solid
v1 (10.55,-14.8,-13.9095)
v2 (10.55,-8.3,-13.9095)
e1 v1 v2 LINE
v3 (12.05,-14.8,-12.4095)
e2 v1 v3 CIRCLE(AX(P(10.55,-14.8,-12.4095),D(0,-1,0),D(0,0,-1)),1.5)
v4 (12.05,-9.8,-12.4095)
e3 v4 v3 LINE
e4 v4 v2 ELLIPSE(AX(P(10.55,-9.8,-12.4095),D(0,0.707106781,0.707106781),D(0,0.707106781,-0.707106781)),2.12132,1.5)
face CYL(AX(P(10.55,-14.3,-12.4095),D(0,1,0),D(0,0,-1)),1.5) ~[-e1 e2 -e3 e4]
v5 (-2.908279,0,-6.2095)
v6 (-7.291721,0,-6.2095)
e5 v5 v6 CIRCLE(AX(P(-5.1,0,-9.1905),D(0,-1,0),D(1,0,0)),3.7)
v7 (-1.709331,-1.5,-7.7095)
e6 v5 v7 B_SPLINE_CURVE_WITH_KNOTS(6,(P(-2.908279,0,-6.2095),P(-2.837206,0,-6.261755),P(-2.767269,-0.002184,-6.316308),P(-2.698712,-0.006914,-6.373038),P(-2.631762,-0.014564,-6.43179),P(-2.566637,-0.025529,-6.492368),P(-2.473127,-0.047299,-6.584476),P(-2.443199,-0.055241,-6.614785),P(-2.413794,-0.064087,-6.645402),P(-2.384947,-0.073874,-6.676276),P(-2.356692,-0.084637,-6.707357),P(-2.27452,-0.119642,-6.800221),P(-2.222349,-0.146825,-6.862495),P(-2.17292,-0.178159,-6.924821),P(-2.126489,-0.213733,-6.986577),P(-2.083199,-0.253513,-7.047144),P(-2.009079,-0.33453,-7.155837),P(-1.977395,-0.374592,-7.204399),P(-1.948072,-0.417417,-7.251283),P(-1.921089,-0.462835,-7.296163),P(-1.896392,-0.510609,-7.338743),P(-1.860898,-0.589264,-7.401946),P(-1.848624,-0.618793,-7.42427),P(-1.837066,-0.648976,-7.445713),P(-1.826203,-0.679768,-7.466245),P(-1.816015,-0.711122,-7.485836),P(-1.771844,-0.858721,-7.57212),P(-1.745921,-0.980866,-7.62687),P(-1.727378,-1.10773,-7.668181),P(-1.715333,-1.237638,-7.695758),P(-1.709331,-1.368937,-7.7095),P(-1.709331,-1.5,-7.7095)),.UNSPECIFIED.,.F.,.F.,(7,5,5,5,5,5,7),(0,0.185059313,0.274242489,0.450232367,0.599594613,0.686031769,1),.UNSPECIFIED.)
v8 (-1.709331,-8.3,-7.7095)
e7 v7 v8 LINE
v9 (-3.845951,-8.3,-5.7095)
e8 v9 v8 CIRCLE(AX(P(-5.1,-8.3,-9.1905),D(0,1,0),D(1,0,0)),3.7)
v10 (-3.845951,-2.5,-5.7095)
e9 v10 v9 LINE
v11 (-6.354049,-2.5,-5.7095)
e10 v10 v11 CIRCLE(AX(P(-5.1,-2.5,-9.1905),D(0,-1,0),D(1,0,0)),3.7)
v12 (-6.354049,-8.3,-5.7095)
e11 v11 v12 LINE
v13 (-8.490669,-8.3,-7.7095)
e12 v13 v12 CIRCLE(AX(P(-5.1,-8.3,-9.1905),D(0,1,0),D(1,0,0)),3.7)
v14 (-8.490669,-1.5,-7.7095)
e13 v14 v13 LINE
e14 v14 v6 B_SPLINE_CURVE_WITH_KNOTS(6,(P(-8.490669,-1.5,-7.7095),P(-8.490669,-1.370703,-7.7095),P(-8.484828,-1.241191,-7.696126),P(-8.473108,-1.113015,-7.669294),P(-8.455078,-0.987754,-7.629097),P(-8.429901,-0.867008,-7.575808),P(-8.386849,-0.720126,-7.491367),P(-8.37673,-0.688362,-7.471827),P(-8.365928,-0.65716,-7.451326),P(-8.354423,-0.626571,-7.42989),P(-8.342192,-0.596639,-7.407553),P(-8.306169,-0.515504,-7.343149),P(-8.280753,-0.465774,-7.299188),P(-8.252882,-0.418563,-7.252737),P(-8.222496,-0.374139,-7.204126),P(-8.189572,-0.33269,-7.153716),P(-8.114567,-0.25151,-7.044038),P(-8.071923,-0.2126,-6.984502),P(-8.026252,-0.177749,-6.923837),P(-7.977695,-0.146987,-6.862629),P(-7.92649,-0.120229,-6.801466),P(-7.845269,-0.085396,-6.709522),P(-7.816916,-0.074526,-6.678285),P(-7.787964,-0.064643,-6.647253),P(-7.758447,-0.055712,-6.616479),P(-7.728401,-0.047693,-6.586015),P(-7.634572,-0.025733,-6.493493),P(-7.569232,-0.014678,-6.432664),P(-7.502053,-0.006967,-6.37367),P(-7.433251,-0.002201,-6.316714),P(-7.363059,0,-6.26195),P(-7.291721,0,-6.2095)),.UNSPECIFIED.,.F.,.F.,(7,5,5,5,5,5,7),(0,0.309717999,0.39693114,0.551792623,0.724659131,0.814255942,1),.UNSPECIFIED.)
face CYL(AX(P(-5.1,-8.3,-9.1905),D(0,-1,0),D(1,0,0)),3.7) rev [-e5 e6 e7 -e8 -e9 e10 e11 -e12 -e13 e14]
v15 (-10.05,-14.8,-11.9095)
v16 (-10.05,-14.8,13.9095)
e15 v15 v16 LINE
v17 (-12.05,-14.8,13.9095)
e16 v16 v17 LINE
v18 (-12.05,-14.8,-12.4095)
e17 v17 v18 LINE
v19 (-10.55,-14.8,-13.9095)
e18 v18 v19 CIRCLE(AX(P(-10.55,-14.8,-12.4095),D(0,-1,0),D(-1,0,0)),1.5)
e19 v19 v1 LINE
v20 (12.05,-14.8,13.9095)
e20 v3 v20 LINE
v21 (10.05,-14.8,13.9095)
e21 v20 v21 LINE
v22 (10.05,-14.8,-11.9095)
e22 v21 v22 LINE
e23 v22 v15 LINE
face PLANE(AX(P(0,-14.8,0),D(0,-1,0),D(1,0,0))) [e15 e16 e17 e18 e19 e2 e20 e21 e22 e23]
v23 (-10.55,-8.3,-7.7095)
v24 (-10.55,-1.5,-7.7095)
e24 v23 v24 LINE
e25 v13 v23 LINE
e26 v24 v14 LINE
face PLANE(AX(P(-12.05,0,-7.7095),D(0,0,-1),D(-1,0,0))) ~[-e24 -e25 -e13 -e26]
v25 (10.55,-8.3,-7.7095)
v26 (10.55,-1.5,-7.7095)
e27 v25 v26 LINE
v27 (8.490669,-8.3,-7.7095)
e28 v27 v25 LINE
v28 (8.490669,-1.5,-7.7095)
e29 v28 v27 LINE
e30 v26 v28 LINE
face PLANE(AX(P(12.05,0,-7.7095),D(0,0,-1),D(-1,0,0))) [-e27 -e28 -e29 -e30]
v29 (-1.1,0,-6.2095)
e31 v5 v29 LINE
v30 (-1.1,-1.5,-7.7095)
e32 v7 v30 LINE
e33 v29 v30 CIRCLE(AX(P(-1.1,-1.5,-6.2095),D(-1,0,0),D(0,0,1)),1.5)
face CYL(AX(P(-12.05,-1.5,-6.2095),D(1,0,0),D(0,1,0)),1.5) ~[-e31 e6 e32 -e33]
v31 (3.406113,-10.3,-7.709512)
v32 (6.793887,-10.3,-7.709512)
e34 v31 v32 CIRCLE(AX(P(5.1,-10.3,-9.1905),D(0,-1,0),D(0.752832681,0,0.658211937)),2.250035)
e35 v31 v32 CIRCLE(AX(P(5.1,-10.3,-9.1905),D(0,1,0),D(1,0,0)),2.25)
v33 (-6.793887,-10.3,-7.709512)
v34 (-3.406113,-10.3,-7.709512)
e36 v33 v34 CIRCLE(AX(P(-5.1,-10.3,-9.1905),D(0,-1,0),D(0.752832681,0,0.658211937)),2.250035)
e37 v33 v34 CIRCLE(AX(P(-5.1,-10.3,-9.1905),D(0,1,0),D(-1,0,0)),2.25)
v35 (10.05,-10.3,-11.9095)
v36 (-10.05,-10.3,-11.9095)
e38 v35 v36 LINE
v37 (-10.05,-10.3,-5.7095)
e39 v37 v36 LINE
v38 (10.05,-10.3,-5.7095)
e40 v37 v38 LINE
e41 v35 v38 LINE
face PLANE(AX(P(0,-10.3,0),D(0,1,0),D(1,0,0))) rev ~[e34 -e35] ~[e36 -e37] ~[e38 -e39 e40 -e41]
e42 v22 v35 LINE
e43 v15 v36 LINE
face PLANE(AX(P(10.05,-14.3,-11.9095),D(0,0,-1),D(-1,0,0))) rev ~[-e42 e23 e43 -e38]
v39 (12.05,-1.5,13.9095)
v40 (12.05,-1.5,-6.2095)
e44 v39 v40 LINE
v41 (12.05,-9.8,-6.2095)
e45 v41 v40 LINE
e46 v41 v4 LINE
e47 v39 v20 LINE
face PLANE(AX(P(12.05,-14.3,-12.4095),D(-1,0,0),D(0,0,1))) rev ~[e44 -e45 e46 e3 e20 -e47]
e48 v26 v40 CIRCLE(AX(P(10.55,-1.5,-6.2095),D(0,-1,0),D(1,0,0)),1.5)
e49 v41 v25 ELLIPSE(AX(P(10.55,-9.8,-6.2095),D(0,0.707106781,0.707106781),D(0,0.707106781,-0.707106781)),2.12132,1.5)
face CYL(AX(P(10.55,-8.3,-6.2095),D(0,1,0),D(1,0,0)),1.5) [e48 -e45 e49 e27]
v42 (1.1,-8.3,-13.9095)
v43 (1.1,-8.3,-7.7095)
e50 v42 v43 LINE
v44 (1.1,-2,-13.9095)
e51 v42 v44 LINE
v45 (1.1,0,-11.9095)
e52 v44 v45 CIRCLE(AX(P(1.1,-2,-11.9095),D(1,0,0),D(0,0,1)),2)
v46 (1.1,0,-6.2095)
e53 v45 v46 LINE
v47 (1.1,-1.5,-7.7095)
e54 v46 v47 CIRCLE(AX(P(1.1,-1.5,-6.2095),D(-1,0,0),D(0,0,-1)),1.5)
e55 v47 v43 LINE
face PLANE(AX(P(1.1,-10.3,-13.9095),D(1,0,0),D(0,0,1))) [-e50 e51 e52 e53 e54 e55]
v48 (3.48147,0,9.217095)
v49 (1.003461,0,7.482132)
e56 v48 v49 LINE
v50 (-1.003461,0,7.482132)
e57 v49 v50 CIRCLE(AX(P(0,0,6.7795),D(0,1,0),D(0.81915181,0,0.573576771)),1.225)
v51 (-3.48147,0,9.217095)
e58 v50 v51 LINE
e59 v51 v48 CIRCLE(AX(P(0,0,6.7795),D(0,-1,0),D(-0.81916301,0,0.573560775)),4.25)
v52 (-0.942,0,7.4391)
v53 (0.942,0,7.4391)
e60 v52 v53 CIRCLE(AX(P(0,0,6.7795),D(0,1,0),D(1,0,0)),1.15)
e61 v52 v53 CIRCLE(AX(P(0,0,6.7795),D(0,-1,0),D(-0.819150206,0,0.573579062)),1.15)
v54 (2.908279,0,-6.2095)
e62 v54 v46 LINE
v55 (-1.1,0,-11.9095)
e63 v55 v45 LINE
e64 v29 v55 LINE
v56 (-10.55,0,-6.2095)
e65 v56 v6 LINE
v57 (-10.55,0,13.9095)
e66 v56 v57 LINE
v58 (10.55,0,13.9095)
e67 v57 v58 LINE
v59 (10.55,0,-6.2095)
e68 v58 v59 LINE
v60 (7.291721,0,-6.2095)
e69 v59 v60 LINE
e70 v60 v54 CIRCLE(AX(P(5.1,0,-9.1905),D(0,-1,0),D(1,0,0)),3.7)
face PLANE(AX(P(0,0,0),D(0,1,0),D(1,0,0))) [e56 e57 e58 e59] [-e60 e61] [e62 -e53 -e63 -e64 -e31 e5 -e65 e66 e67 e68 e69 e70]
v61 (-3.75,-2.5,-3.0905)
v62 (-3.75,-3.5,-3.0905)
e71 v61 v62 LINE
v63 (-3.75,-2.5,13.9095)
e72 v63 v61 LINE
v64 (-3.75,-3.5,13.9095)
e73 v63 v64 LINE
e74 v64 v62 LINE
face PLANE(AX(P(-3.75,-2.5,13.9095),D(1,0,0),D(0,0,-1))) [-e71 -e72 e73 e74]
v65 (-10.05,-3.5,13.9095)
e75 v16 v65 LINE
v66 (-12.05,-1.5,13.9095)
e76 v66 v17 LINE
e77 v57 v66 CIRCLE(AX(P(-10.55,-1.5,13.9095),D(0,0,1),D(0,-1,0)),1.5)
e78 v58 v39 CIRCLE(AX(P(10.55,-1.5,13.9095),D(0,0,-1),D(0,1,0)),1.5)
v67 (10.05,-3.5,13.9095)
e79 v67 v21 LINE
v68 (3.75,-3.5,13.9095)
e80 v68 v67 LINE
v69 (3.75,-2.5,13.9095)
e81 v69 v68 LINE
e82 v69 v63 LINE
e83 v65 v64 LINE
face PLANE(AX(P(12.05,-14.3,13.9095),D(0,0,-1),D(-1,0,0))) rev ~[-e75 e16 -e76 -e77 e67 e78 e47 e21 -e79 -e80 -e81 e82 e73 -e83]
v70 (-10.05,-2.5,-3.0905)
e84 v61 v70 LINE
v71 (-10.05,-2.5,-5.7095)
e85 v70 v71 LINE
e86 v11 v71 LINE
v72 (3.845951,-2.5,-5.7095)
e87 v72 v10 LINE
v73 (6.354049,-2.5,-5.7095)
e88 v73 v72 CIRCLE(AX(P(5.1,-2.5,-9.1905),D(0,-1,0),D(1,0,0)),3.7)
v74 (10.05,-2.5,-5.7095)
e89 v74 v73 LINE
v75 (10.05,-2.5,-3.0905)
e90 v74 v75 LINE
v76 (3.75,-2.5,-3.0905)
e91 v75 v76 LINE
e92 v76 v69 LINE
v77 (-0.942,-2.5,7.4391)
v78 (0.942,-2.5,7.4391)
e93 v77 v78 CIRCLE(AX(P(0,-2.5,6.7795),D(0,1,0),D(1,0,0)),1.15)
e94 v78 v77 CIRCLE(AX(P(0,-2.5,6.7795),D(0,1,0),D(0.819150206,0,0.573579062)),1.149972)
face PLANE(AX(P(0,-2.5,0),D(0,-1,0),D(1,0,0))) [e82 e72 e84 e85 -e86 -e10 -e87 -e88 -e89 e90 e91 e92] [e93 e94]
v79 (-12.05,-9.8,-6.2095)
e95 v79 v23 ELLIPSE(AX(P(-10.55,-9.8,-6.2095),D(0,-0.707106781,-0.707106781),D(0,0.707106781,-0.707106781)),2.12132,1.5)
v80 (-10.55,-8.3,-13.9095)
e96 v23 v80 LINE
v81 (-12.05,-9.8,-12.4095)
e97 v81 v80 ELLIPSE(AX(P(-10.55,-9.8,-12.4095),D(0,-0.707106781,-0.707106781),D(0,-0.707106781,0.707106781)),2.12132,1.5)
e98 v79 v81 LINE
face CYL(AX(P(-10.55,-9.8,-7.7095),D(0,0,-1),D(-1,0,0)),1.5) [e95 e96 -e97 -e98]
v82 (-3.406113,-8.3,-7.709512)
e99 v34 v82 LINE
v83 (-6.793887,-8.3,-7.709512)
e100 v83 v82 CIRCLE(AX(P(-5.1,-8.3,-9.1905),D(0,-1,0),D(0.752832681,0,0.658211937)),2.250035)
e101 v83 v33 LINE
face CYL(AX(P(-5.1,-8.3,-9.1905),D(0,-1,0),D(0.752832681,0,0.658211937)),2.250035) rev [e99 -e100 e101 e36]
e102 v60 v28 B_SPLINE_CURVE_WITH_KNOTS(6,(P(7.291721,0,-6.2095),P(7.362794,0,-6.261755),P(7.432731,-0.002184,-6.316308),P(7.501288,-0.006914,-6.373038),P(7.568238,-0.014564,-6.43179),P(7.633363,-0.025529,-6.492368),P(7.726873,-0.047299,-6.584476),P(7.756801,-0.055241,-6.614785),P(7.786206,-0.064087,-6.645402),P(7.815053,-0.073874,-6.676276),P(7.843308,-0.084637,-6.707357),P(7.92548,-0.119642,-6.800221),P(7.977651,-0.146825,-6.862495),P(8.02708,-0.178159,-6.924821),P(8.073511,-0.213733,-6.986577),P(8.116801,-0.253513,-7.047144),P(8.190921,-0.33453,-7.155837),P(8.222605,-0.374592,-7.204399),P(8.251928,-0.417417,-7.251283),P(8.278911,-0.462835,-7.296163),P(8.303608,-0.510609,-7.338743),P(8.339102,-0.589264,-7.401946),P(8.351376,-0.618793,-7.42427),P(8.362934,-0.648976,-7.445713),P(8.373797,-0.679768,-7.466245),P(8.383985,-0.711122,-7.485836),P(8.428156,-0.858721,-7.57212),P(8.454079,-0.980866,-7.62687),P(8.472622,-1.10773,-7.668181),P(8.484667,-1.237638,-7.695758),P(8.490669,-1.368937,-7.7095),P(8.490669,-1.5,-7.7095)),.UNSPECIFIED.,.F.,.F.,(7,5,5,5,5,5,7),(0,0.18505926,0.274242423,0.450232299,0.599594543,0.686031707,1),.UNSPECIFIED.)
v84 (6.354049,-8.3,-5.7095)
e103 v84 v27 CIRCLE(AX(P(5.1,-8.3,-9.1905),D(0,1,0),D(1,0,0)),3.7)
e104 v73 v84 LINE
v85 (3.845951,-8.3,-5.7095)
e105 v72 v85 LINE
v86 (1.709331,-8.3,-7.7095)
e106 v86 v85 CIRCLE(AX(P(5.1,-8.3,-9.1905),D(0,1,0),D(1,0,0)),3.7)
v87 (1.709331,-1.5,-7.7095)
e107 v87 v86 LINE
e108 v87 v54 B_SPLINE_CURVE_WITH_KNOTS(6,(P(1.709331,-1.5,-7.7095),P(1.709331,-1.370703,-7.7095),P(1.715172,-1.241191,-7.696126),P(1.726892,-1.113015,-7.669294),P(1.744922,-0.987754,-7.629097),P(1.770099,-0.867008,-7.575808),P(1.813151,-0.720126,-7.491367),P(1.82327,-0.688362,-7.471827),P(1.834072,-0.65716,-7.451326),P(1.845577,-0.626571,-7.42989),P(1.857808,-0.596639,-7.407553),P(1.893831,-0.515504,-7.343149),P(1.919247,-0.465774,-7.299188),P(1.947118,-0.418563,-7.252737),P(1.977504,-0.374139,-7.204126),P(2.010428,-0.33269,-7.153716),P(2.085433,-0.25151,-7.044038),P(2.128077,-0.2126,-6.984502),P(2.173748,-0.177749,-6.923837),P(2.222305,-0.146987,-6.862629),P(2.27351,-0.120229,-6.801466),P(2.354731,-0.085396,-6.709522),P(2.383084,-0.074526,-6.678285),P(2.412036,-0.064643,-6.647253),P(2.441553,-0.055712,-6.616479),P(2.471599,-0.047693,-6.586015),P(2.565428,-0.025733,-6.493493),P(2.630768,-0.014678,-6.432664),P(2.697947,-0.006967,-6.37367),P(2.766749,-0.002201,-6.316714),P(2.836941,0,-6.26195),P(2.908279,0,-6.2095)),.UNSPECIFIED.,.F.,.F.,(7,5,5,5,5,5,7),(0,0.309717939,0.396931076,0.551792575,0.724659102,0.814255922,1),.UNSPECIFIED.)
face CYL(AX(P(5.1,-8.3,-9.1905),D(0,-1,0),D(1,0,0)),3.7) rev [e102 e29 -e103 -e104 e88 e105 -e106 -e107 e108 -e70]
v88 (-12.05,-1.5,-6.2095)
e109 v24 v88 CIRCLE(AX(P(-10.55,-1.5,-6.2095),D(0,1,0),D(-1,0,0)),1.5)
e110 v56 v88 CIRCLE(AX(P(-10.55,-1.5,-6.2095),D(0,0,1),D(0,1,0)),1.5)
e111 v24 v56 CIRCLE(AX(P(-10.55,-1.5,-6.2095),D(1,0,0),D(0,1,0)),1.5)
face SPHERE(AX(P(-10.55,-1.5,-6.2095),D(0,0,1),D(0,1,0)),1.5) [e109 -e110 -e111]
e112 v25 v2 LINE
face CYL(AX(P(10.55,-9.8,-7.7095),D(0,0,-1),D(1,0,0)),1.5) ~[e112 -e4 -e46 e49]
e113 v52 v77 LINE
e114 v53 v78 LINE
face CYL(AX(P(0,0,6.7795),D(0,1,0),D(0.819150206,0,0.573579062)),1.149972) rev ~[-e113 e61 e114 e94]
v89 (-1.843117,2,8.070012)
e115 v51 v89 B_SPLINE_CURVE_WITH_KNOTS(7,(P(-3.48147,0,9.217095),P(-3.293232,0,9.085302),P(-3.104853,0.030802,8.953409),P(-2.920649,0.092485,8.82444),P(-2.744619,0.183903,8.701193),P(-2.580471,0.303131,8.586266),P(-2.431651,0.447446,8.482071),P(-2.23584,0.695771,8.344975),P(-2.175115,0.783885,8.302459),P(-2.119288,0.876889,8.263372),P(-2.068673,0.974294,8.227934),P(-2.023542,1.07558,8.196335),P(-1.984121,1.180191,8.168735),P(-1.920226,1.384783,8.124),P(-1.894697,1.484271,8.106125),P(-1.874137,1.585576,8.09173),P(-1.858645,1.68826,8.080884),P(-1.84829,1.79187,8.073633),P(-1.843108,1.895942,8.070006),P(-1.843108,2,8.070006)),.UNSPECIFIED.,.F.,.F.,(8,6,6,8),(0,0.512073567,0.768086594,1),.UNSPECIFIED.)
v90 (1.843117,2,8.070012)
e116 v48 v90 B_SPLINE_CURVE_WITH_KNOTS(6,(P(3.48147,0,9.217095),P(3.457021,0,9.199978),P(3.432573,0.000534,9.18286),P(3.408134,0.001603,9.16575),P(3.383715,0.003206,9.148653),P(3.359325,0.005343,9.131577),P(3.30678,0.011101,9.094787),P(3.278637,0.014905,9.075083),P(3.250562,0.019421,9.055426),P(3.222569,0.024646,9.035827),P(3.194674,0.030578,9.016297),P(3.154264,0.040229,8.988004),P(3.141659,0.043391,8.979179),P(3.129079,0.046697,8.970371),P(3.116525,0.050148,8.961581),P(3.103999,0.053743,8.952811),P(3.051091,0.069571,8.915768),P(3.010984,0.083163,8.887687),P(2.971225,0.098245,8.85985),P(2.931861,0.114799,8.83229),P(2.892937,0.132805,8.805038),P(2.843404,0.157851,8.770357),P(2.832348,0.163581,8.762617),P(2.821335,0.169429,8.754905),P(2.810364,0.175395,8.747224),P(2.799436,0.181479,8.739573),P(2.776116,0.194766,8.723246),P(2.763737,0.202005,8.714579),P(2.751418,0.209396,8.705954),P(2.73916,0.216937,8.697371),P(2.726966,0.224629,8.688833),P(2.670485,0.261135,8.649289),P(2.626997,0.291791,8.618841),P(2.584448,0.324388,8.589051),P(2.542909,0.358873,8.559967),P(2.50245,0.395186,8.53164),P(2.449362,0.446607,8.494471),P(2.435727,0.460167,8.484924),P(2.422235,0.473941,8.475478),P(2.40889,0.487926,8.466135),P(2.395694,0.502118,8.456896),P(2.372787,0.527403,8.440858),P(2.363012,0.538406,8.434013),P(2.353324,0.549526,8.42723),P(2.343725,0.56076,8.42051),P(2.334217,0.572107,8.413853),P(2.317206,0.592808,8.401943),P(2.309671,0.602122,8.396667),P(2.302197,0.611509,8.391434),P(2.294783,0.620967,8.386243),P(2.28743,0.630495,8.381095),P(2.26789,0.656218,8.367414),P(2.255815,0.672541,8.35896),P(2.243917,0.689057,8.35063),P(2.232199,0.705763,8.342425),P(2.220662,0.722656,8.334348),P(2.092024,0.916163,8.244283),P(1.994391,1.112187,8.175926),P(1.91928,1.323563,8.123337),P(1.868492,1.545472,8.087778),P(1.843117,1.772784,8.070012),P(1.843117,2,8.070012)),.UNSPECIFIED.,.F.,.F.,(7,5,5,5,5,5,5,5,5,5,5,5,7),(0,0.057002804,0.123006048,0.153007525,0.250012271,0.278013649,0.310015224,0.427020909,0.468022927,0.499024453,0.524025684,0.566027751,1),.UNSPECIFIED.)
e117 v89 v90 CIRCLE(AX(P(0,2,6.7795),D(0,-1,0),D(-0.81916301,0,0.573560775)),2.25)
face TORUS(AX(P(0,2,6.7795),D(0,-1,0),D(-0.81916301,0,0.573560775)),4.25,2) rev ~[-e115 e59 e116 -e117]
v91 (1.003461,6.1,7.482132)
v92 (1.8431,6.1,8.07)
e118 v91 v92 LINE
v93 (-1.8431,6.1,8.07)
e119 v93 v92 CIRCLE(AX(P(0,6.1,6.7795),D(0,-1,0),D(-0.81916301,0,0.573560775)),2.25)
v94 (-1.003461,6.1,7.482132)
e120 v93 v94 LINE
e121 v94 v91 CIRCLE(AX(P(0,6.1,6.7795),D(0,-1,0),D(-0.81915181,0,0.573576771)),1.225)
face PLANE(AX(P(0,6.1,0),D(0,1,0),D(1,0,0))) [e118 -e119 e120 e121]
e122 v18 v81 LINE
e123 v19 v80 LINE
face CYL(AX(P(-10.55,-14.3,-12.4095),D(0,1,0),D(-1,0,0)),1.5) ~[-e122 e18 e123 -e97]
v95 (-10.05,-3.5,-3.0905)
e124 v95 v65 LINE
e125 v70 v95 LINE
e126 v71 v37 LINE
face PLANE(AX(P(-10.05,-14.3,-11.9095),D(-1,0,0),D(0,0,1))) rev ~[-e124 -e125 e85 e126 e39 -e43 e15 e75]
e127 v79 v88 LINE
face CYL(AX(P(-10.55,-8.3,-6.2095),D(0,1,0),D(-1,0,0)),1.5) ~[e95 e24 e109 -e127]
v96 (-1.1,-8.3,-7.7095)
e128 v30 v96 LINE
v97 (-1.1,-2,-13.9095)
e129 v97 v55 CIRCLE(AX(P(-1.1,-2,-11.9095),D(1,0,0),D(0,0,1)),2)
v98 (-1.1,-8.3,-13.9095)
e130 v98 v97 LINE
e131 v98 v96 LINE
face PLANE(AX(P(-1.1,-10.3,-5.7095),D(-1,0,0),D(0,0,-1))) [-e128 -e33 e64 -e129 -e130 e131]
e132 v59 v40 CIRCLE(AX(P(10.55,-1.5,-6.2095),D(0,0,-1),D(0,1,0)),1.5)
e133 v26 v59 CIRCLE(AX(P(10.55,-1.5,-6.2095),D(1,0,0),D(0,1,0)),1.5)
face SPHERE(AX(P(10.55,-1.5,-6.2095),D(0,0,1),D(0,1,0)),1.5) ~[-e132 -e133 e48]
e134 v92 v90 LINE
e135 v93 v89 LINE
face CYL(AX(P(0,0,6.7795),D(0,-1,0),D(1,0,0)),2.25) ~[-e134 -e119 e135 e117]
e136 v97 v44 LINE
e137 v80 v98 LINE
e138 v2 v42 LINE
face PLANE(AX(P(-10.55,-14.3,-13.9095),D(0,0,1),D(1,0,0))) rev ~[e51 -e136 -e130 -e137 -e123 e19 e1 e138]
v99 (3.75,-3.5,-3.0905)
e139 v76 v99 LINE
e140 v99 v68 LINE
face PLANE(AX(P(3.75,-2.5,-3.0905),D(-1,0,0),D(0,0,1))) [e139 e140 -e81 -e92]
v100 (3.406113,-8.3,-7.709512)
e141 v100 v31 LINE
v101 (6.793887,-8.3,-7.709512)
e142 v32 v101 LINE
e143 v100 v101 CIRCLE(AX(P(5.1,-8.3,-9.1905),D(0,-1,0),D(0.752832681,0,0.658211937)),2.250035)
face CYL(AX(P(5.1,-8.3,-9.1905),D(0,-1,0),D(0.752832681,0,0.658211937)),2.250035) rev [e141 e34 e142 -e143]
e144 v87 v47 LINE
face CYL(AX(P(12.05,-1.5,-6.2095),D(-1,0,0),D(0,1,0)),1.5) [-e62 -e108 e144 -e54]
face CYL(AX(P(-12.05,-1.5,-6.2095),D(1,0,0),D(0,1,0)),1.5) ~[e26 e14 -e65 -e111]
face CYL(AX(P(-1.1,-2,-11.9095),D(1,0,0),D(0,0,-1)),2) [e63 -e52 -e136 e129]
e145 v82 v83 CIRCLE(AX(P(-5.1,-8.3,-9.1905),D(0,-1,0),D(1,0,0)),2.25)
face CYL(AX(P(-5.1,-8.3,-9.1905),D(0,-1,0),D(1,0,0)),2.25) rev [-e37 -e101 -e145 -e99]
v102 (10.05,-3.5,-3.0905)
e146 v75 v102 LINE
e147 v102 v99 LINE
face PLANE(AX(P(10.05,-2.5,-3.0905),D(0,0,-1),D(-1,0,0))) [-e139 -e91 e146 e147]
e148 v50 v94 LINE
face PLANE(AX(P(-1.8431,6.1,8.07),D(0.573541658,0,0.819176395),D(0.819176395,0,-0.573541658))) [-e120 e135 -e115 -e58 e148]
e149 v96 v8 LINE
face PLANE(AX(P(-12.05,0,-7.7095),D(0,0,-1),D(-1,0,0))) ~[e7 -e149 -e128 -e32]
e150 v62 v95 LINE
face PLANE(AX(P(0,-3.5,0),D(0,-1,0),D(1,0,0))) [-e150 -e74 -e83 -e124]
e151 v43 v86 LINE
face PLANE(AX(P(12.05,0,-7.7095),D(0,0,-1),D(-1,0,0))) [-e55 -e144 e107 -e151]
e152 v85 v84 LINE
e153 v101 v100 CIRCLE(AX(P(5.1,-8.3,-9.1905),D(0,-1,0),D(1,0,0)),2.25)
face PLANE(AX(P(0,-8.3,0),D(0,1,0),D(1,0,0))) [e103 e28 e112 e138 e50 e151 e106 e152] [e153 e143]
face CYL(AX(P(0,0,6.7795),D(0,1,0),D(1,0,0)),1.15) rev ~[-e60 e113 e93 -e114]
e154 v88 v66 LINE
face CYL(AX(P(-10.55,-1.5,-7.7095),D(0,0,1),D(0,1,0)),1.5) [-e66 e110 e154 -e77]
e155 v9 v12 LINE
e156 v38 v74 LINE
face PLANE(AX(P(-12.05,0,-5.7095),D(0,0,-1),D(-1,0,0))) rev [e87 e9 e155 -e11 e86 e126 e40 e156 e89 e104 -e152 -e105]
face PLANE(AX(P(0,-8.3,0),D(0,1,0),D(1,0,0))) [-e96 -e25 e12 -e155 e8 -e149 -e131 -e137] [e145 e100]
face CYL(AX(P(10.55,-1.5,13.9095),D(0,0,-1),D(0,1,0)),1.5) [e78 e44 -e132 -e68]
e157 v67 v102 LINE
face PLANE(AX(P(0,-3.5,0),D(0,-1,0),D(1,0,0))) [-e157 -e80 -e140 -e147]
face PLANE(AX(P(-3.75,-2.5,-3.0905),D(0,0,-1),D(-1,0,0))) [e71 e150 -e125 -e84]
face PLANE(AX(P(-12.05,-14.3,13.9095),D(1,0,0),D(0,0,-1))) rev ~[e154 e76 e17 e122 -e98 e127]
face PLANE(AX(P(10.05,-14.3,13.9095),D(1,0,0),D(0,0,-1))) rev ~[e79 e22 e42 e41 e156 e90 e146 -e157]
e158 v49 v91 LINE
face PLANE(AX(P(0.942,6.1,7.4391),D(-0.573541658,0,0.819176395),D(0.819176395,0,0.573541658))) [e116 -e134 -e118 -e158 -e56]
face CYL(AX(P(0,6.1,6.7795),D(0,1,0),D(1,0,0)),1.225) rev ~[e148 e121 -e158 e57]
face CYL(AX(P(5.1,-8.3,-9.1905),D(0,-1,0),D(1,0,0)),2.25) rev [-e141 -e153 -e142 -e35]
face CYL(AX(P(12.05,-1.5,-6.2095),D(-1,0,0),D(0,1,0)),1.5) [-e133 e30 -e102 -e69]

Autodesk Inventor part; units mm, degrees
ref_plane "YZ Plane" through (0, 0, 0) normal (1, 0, 0) x (0, 1, 0)
ref_plane "XZ Plane" through (0, 0, 0) normal (0, 1, 0) x (-1, 0, 0)
sketch "Sketch1" plane through (0, 0, 0) normal (0, 1, 0) x (-1, 0, 0)
  line L0 (12.05, 13.9095) -> (-12.05, 13.9095)
  line L1 (-12.05, 13.9095) -> (-12.05, -13.9095)
  line L2 (-12.05, -13.9095) -> (12.05, -13.9095)
  line L3 (12.05, -13.9095) -> (12.05, 13.9095)
  point P0 (0, 0)
  dimension "d0" = 24.1
  dimension "d1" = 12.05
  dimension "d2" = 27.819
  dimension "d3" = 13.9095
extrude "Extrusion1" add sketch "Sketch1" against normal blind 13.3
sketch "Sketch2" plane through (0, -13.3, 0) normal (0, -1, 0) x (1, 0, 0)
  line L0 (10.05, 13.9095) -> (-10.05, 13.9095)
  line L1 (-10.05, 13.9095) -> (-10.05, -11.9095)
  line L2 (-10.05, -11.9095) -> (10.05, -11.9095)
  line L3 (10.05, -11.9095) -> (10.05, 13.9095)
  line L4 (12.05, 13.9095) -> (-12.05, 13.9095) projected
  line L5 (12.05, -13.9095) -> (12.05, 13.9095) projected
  line L6 (-12.05, 13.9095) -> (-12.05, -13.9095) projected
  line L7 (-12.05, -13.9095) -> (12.05, -13.9095) projected
  point P0 (0, 0)
  dimension "d6" = 2
  dimension "d7" = 2
  dimension "d8" = 2
extrude "Extrusion2" cut sketch "Sketch2" against normal blind 10.8 contours L3 L2 L1 L0
sketch "Sketch3" plane through (0, 0, 0) normal (0, 1, 0) x (1, 0, 0)
  line L0 (-12.05, 5.7095) -> (12.05, 5.7095)
  line L1 (12.05, 5.7095) -> (12.05, 13.9095)
  line L2 (12.05, 13.9095) -> (-12.05, 13.9095)
  line L3 (-12.05, 13.9095) -> (-12.05, 5.7095)
  point P0 (0, 0)
  dimension "d11" = 8.2
extrude "Extrusion3" cut sketch "Sketch3" against normal blind 10.3
sketch "Sketch4" plane through (0, -10.3, 0) normal (0, 1, 0) x (1, 0, 0)
  line L0 (-1.1, 5.7095) -> (-12.05, 5.7095)
  line L1 (-12.05, 5.7095) -> (-12.05, 13.9095)
  line L2 (-12.05, 13.9095) -> (-1.1, 13.9095)
  line L3 (-1.1, 13.9095) -> (-1.1, 5.7095)
  point P0 (0, 0)
  dimension "d14" = 10.95
extrude "Extrusion4" add sketch "Sketch4" along normal blind 2
mirror "Mirror1" about plane through (0, 0, 0) normal (1, 0, 0) of "Extrusion4"
sketch "Sketch6" plane through (0, -13.3, 0) normal (0, -1, 0) x (1, 0, 0)
  line L0 (-12.05, -5.7095) -> (12.05, -5.7095)
  line L1 (12.05, -5.7095) -> (12.05, -13.9095)
  line L2 (12.05, -13.9095) -> (-12.05, -13.9095)
  line L3 (-12.05, -13.9095) -> (-12.05, -5.7095)
  point P0 (0, 0)
extrude "Extrusion6" add sketch "Sketch6" along normal blind 2
sketch "Sketch7" plane through (12.05, 0, -5.7095) normal (0, 0, -1) x (-1, 0, 0)
  line L0 (0, 0) -> (10.95, 0)
  line L1 (10.95, 0) -> (10.95, -8.3)
  line L2 (10.95, -8.3) -> (0, -8.3)
  line L3 (0, -8.3) -> (0, 0)
  point P0 (12.05, 0)
extrude "Extrusion7" add sketch "Sketch7" along normal blind 2
mirror "Mirror3" about plane through (0, 0, 0) normal (1, 0, 0) of "Extrusion7"
sketch "Sketch8" plane through (1.1, -8.3, -13.9095) normal (0, 1, 0) x (1, 0, 0)
  circle A0 centre (4, -4.719) radius 2.25
  line L0 (0, -8.2) -> (8.95, -8.2) projected
  line L1 (8.95, -27.819) -> (8.95, -8.2) projected
  line L2 (10.95, -27.819) -> (10.95, -6.2) projected
  line L3 (8.95, -2) -> (0, -2) projected
  point P0 (-1.1, -13.9095)
  dimension "d24" = 4.5
  dimension "d29" = 6.95
  dimension "d30" = 2.719
extrude "Extrusion8" cut sketch "Sketch8" against normal through all
mirror "Mirror4" about plane through (0, 0, 0) normal (1, 0, 0) of "Extrusion8"
sketch "Sketch9" plane through (0, 0, 0) normal (0, 1, 0) x (1, 0, 0)
  circle A0 centre (0, -6.7795) radius 1.15
  line L0 (-12.05, -13.9095) -> (12.05, -13.9095) projected
  circle A1 centre (0, -6.7795) radius 2.25
  point P0 (0, 0)
  dimension "d31" = 7.13
  dimension "d32" = 2.3
  dimension "d33" = 4.5
extrude "Extrusion9" add sketch "Sketch9" along normal blind 6.1
sketch "Sketch10" plane through (0, 6.1, 6.7795) normal (0, 1, 0) x (1, 0, 0)
  circle A0 centre (0, 0) radius 1.15 projected
  arc A1 (-0.942, -0.6596) -> (0.942, -0.6596) centre (0, 0) ccw
  circle A2 centre (0, 0) radius 2.25 projected
  arc A3 (-1.8431, -1.2905) -> (1.8431, -1.2905) centre (0, 0) ccw
  line L0 (0, 0) -> (-0.8052, 0)
  line L1 (0, 0) -> (0.4727, 0)
  line L2 (0, 0) -> (-0.942, -0.6596)
  line L3 (0, 0) -> (0.942, -0.6596)
  line L4 (-1.8431, -1.2905) -> (-0.942, -0.6596)
  line L5 (0.942, -0.6596) -> (1.8431, -1.2905)
  point P0 (0, 6.7795)
  dimension "d36" = 35
  dimension "d37" = 35
extrude "Extrusion10" cut sketch "Sketch10" against normal up to surface (6.1 mm away) contours A0 L5 A2 L4 picked at (-0.2694, -1.8509)
sketch "Sketch11" plane through (0, 0, 0) normal (0, 1, 0) x (1, 0, 0)
  line L0 (1.1, 5.7095) -> (-1.1, 5.7095) projected
  line L1 (-1.1, 5.7095) -> (-1.1, 7.7095) projected
  line L2 (-1.1, 7.7095) -> (-12.05, 7.7095) projected
  line L3 (-12.05, 7.7095) -> (-12.05, -13.9095) projected
  line L4 (-12.05, -13.9095) -> (12.05, -13.9095) projected
  line L5 (12.05, -13.9095) -> (12.05, 7.7095) projected
  line L6 (1.1, 7.7095) -> (12.05, 7.7095) projected
  line L7 (1.1, 5.7095) -> (1.1, 7.7095) projected
  arc A0 (0.942, -7.4391) -> (-0.942, -7.4391) centre (0, -6.7795) ccw projected
  line L8 (-0.942, -7.4391) -> (-1.8431, -8.07) projected
  arc A1 (1.8431, -8.07) -> (-1.8431, -8.07) centre (0, -6.7795) ccw projected
  line L9 (1.8431, -8.07) -> (0.942, -7.4391) projected
  circle A2 centre (0, -6.7795) radius 1.15
  point P0 (0, 0)
extrude "Extrusion11" cut sketch "Sketch11" against normal through all contours A2 A0
fillet "Fillet1" radius 2 1 edges at (0, 0, 4.5295)
fillet "Fillet2" radius 1.5 10 edges at (12.05, 0, 3.1) (-12.05, 0, 3.1) (6.575, 0, -7.7095) (-6.575, 0, -7.7095) (12.05, -4.15, -7.7095) (12.05, -8.3, -10.8095) (12.05, -11.8, -13.9095) (-12.05, -11.8, -13.9095) (-12.05, -8.3, -10.8095) (-12.05, -4.15, -7.7095)
sketch "Sketch12" plane through (0, -8.3, 0) normal (0, 1, 0) x (1, 0, 0)
  arc A0 (-3.4061, 7.7095) -> (-6.7939, 7.7095) centre (-5.1, 9.1905) ccw projected
  arc A1 (6.7939, 7.7095) -> (3.4061, 7.7095) centre (5.1, 9.1905) ccw projected
  circle A2 centre (-5.1, 9.1905) radius 2.25
  circle A3 centre (5.1, 9.1905) radius 2.25
  point P0 (0, 0)
extrude "Extrusion12" cut sketch "Sketch12" along normal through all both and the other way through all
sketch "Sketch13" plane through (0, -8.3, 0) normal (0, 1, 0) x (1, 0, 0)
  arc A0 (-3.4061, 7.7095) -> (-6.7939, 7.7095) centre (-5.1, 9.1905) ccw projected
  circle A1 centre (-5.1, 9.1905) radius 3.7
  arc A2 (6.7939, 7.7095) -> (3.4061, 7.7095) centre (5.1, 9.1905) ccw projected
  circle A3 centre (5.1, 9.1905) radius 3.7
  point P0 (0, 0)
  dimension "d46" = 7.4
  dimension "d47" = 7.4
extrude "Extrusion13" cut sketch "Sketch13" along normal through all
sketch "Sketch14" plane through (-10.05, -13.3, -5.7095) normal (0, 0, 1) x (1, 0, 0)
  line L0 (-2, 0) -> (22.1, 0)
  line L1 (22.1, 0) -> (22.1, -2)
  line L2 (22.1, -2) -> (-2, -2)
  line L3 (-2, -2) -> (-2, 0)
  point P0 (10.05, 13.3)
extrude "Extrusion14" cut sketch "Sketch14" along normal through all both and the other way through all
sketch "Sketch16" plane through (0, -13.3, 0) normal (0, -1, 0) x (1, 0, 0)
  line L0 (12.05, -12.4095) -> (12.05, 13.9095) projected
  line L1 (12.05, 13.9095) -> (10.05, 13.9095) projected
  line L2 (10.05, 13.9095) -> (10.05, -11.9095) projected
  line L3 (10.05, -11.9095) -> (-10.05, -11.9095) projected
  line L4 (-10.05, -11.9095) -> (-10.05, 13.9095) projected
  line L5 (-10.05, 13.9095) -> (-12.05, 13.9095) projected
  line L6 (-12.05, 13.9095) -> (-12.05, -12.4095) projected
  arc A0 (-12.05, -12.4095) -> (-10.55, -13.9095) centre (-10.55, -12.4095) ccw projected
  line L7 (10.55, -13.9095) -> (-10.55, -13.9095) projected
  arc A1 (10.55, -13.9095) -> (12.05, -12.4095) centre (10.55, -12.4095) ccw projected
  point P0 (0, 0)
extrude "Extrusion16" add sketch "Sketch16" along normal blind 1
sketch "Sketch17" plane through (0, -2.5, 0) normal (0, -1, 0) x (1, 0, 0)
  line L0 (10.05, -3.0905) -> (3.75, -3.0905)
  line L1 (3.75, -3.0905) -> (3.75, 13.9095)
  line L2 (3.75, 13.9095) -> (10.05, 13.9095)
  line L3 (10.05, 13.9095) -> (10.05, -3.0905)
  line L4 (-3.75, -3.0905) -> (-10.05, -3.0905)
  line L5 (-10.05, -3.0905) -> (-10.05, 13.9095)
  line L6 (-10.05, 13.9095) -> (-3.75, 13.9095)
  line L7 (-3.75, 13.9095) -> (-3.75, -3.0905)
  point P0 (0, 0)
  dimension "d57" = 7.5
  dimension "d58" = 6.3
  dimension "d59" = 17
extrude "Extrusion17" add sketch "Sketch17" along normal blind 1
sketch "Sketch18" plane through (0, -10.3, 0) normal (0, 1, 0) x (1, 0, 0)
  arc A0 (2.9083, 6.2095) -> (7.2917, 6.2095) centre (5.1, 9.1905) ccw projected
  arc A1 (-7.2917, 6.2095) -> (-2.9083, 6.2095) centre (-5.1, 9.1905) ccw projected
  line L0 (-1.1, 13.9095) -> (1.1, 13.9095)
  line L1 (1.1, 13.9095) -> (1.1, 5.7095)
  line L2 (1.1, 5.7095) -> (-1.1, 5.7095)
  line L3 (-1.1, 5.7095) -> (-1.1, 13.9095)
  point P0 (0, 0)
  point P1 (-1.7093, 7.7095)
extrude "Extrusion18" add sketch "Sketch18" along normal up to surface (10.3 mm away)
fillet "Fillet3" radius 2 1 edges at (0, 0, -13.9095)
sketch "Sketch19" plane through (0, 6.1, 0) normal (0, 1, 0) x (1, 0, 0)
  arc A0 (0.942, -7.4391) -> (-0.942, -7.4391) centre (0, -6.7795) ccw projected
  circle A1 centre (0, -6.7795) radius 1.225
  point P0 (0, 0)
  dimension "d65" = 2.45
extrude "Extrusion19" cut sketch "Sketch19" against normal up to surface (6.1 mm away)
sketch "Sketch20" plane through (0, 6.1, 0) normal (0, 1, 0) x (1, 0, 0)
  arc A0 (1.0035, -7.4821) -> (-1.0035, -7.4821) centre (0, -6.7795) ccw projected
  line L0 (1.0035, -7.4821) -> (1.8431, -8.07) projected
  arc A1 (1.8431, -8.07) -> (-1.8431, -8.07) centre (0, -6.7795) ccw projected
  line L1 (-1.8431, -8.07) -> (-1.0035, -7.4821) projected
  point P0 (0, 0)
extrude "Extrusion20" [suppressed]
ref_plane "Work Plane1" through (0, 2, 0) normal (0, 1, 0) x (1, 0, 0)
sketch "Sketch22" plane through (0, -14.3, 0) normal (0, -1, 0) x (1, 0, 0)
  line L0 (12.05, -12.4095) -> (12.05, 13.9095) projected
  line L1 (12.05, 13.9095) -> (10.05, 13.9095) projected
  line L2 (10.05, 13.9095) -> (10.05, -11.9095) projected
  line L3 (10.05, -11.9095) -> (-10.05, -11.9095) projected
  line L4 (-10.05, -11.9095) -> (-10.05, 13.9095) projected
  line L5 (-10.05, 13.9095) -> (-12.05, 13.9095) projected
  line L6 (-12.05, 13.9095) -> (-12.05, -12.4095) projected
  arc A0 (-12.05, -12.4095) -> (-10.55, -13.9095) centre (-10.55, -12.4095) ccw projected
  line L7 (-10.55, -13.9095) -> (10.55, -13.9095) projected
  arc A1 (10.55, -13.9095) -> (12.05, -12.4095) centre (10.55, -12.4095) ccw projected
  point P0 (0, 0)
extrude "Extrusion22" add sketch "Sketch22" along normal blind 0.5
equation "\"d1\" = 0.5 * d0"
equation "\"d3\" = 0.5 * d2"
equation "\"d37\" = d36"
properties part number "cover_dis"
